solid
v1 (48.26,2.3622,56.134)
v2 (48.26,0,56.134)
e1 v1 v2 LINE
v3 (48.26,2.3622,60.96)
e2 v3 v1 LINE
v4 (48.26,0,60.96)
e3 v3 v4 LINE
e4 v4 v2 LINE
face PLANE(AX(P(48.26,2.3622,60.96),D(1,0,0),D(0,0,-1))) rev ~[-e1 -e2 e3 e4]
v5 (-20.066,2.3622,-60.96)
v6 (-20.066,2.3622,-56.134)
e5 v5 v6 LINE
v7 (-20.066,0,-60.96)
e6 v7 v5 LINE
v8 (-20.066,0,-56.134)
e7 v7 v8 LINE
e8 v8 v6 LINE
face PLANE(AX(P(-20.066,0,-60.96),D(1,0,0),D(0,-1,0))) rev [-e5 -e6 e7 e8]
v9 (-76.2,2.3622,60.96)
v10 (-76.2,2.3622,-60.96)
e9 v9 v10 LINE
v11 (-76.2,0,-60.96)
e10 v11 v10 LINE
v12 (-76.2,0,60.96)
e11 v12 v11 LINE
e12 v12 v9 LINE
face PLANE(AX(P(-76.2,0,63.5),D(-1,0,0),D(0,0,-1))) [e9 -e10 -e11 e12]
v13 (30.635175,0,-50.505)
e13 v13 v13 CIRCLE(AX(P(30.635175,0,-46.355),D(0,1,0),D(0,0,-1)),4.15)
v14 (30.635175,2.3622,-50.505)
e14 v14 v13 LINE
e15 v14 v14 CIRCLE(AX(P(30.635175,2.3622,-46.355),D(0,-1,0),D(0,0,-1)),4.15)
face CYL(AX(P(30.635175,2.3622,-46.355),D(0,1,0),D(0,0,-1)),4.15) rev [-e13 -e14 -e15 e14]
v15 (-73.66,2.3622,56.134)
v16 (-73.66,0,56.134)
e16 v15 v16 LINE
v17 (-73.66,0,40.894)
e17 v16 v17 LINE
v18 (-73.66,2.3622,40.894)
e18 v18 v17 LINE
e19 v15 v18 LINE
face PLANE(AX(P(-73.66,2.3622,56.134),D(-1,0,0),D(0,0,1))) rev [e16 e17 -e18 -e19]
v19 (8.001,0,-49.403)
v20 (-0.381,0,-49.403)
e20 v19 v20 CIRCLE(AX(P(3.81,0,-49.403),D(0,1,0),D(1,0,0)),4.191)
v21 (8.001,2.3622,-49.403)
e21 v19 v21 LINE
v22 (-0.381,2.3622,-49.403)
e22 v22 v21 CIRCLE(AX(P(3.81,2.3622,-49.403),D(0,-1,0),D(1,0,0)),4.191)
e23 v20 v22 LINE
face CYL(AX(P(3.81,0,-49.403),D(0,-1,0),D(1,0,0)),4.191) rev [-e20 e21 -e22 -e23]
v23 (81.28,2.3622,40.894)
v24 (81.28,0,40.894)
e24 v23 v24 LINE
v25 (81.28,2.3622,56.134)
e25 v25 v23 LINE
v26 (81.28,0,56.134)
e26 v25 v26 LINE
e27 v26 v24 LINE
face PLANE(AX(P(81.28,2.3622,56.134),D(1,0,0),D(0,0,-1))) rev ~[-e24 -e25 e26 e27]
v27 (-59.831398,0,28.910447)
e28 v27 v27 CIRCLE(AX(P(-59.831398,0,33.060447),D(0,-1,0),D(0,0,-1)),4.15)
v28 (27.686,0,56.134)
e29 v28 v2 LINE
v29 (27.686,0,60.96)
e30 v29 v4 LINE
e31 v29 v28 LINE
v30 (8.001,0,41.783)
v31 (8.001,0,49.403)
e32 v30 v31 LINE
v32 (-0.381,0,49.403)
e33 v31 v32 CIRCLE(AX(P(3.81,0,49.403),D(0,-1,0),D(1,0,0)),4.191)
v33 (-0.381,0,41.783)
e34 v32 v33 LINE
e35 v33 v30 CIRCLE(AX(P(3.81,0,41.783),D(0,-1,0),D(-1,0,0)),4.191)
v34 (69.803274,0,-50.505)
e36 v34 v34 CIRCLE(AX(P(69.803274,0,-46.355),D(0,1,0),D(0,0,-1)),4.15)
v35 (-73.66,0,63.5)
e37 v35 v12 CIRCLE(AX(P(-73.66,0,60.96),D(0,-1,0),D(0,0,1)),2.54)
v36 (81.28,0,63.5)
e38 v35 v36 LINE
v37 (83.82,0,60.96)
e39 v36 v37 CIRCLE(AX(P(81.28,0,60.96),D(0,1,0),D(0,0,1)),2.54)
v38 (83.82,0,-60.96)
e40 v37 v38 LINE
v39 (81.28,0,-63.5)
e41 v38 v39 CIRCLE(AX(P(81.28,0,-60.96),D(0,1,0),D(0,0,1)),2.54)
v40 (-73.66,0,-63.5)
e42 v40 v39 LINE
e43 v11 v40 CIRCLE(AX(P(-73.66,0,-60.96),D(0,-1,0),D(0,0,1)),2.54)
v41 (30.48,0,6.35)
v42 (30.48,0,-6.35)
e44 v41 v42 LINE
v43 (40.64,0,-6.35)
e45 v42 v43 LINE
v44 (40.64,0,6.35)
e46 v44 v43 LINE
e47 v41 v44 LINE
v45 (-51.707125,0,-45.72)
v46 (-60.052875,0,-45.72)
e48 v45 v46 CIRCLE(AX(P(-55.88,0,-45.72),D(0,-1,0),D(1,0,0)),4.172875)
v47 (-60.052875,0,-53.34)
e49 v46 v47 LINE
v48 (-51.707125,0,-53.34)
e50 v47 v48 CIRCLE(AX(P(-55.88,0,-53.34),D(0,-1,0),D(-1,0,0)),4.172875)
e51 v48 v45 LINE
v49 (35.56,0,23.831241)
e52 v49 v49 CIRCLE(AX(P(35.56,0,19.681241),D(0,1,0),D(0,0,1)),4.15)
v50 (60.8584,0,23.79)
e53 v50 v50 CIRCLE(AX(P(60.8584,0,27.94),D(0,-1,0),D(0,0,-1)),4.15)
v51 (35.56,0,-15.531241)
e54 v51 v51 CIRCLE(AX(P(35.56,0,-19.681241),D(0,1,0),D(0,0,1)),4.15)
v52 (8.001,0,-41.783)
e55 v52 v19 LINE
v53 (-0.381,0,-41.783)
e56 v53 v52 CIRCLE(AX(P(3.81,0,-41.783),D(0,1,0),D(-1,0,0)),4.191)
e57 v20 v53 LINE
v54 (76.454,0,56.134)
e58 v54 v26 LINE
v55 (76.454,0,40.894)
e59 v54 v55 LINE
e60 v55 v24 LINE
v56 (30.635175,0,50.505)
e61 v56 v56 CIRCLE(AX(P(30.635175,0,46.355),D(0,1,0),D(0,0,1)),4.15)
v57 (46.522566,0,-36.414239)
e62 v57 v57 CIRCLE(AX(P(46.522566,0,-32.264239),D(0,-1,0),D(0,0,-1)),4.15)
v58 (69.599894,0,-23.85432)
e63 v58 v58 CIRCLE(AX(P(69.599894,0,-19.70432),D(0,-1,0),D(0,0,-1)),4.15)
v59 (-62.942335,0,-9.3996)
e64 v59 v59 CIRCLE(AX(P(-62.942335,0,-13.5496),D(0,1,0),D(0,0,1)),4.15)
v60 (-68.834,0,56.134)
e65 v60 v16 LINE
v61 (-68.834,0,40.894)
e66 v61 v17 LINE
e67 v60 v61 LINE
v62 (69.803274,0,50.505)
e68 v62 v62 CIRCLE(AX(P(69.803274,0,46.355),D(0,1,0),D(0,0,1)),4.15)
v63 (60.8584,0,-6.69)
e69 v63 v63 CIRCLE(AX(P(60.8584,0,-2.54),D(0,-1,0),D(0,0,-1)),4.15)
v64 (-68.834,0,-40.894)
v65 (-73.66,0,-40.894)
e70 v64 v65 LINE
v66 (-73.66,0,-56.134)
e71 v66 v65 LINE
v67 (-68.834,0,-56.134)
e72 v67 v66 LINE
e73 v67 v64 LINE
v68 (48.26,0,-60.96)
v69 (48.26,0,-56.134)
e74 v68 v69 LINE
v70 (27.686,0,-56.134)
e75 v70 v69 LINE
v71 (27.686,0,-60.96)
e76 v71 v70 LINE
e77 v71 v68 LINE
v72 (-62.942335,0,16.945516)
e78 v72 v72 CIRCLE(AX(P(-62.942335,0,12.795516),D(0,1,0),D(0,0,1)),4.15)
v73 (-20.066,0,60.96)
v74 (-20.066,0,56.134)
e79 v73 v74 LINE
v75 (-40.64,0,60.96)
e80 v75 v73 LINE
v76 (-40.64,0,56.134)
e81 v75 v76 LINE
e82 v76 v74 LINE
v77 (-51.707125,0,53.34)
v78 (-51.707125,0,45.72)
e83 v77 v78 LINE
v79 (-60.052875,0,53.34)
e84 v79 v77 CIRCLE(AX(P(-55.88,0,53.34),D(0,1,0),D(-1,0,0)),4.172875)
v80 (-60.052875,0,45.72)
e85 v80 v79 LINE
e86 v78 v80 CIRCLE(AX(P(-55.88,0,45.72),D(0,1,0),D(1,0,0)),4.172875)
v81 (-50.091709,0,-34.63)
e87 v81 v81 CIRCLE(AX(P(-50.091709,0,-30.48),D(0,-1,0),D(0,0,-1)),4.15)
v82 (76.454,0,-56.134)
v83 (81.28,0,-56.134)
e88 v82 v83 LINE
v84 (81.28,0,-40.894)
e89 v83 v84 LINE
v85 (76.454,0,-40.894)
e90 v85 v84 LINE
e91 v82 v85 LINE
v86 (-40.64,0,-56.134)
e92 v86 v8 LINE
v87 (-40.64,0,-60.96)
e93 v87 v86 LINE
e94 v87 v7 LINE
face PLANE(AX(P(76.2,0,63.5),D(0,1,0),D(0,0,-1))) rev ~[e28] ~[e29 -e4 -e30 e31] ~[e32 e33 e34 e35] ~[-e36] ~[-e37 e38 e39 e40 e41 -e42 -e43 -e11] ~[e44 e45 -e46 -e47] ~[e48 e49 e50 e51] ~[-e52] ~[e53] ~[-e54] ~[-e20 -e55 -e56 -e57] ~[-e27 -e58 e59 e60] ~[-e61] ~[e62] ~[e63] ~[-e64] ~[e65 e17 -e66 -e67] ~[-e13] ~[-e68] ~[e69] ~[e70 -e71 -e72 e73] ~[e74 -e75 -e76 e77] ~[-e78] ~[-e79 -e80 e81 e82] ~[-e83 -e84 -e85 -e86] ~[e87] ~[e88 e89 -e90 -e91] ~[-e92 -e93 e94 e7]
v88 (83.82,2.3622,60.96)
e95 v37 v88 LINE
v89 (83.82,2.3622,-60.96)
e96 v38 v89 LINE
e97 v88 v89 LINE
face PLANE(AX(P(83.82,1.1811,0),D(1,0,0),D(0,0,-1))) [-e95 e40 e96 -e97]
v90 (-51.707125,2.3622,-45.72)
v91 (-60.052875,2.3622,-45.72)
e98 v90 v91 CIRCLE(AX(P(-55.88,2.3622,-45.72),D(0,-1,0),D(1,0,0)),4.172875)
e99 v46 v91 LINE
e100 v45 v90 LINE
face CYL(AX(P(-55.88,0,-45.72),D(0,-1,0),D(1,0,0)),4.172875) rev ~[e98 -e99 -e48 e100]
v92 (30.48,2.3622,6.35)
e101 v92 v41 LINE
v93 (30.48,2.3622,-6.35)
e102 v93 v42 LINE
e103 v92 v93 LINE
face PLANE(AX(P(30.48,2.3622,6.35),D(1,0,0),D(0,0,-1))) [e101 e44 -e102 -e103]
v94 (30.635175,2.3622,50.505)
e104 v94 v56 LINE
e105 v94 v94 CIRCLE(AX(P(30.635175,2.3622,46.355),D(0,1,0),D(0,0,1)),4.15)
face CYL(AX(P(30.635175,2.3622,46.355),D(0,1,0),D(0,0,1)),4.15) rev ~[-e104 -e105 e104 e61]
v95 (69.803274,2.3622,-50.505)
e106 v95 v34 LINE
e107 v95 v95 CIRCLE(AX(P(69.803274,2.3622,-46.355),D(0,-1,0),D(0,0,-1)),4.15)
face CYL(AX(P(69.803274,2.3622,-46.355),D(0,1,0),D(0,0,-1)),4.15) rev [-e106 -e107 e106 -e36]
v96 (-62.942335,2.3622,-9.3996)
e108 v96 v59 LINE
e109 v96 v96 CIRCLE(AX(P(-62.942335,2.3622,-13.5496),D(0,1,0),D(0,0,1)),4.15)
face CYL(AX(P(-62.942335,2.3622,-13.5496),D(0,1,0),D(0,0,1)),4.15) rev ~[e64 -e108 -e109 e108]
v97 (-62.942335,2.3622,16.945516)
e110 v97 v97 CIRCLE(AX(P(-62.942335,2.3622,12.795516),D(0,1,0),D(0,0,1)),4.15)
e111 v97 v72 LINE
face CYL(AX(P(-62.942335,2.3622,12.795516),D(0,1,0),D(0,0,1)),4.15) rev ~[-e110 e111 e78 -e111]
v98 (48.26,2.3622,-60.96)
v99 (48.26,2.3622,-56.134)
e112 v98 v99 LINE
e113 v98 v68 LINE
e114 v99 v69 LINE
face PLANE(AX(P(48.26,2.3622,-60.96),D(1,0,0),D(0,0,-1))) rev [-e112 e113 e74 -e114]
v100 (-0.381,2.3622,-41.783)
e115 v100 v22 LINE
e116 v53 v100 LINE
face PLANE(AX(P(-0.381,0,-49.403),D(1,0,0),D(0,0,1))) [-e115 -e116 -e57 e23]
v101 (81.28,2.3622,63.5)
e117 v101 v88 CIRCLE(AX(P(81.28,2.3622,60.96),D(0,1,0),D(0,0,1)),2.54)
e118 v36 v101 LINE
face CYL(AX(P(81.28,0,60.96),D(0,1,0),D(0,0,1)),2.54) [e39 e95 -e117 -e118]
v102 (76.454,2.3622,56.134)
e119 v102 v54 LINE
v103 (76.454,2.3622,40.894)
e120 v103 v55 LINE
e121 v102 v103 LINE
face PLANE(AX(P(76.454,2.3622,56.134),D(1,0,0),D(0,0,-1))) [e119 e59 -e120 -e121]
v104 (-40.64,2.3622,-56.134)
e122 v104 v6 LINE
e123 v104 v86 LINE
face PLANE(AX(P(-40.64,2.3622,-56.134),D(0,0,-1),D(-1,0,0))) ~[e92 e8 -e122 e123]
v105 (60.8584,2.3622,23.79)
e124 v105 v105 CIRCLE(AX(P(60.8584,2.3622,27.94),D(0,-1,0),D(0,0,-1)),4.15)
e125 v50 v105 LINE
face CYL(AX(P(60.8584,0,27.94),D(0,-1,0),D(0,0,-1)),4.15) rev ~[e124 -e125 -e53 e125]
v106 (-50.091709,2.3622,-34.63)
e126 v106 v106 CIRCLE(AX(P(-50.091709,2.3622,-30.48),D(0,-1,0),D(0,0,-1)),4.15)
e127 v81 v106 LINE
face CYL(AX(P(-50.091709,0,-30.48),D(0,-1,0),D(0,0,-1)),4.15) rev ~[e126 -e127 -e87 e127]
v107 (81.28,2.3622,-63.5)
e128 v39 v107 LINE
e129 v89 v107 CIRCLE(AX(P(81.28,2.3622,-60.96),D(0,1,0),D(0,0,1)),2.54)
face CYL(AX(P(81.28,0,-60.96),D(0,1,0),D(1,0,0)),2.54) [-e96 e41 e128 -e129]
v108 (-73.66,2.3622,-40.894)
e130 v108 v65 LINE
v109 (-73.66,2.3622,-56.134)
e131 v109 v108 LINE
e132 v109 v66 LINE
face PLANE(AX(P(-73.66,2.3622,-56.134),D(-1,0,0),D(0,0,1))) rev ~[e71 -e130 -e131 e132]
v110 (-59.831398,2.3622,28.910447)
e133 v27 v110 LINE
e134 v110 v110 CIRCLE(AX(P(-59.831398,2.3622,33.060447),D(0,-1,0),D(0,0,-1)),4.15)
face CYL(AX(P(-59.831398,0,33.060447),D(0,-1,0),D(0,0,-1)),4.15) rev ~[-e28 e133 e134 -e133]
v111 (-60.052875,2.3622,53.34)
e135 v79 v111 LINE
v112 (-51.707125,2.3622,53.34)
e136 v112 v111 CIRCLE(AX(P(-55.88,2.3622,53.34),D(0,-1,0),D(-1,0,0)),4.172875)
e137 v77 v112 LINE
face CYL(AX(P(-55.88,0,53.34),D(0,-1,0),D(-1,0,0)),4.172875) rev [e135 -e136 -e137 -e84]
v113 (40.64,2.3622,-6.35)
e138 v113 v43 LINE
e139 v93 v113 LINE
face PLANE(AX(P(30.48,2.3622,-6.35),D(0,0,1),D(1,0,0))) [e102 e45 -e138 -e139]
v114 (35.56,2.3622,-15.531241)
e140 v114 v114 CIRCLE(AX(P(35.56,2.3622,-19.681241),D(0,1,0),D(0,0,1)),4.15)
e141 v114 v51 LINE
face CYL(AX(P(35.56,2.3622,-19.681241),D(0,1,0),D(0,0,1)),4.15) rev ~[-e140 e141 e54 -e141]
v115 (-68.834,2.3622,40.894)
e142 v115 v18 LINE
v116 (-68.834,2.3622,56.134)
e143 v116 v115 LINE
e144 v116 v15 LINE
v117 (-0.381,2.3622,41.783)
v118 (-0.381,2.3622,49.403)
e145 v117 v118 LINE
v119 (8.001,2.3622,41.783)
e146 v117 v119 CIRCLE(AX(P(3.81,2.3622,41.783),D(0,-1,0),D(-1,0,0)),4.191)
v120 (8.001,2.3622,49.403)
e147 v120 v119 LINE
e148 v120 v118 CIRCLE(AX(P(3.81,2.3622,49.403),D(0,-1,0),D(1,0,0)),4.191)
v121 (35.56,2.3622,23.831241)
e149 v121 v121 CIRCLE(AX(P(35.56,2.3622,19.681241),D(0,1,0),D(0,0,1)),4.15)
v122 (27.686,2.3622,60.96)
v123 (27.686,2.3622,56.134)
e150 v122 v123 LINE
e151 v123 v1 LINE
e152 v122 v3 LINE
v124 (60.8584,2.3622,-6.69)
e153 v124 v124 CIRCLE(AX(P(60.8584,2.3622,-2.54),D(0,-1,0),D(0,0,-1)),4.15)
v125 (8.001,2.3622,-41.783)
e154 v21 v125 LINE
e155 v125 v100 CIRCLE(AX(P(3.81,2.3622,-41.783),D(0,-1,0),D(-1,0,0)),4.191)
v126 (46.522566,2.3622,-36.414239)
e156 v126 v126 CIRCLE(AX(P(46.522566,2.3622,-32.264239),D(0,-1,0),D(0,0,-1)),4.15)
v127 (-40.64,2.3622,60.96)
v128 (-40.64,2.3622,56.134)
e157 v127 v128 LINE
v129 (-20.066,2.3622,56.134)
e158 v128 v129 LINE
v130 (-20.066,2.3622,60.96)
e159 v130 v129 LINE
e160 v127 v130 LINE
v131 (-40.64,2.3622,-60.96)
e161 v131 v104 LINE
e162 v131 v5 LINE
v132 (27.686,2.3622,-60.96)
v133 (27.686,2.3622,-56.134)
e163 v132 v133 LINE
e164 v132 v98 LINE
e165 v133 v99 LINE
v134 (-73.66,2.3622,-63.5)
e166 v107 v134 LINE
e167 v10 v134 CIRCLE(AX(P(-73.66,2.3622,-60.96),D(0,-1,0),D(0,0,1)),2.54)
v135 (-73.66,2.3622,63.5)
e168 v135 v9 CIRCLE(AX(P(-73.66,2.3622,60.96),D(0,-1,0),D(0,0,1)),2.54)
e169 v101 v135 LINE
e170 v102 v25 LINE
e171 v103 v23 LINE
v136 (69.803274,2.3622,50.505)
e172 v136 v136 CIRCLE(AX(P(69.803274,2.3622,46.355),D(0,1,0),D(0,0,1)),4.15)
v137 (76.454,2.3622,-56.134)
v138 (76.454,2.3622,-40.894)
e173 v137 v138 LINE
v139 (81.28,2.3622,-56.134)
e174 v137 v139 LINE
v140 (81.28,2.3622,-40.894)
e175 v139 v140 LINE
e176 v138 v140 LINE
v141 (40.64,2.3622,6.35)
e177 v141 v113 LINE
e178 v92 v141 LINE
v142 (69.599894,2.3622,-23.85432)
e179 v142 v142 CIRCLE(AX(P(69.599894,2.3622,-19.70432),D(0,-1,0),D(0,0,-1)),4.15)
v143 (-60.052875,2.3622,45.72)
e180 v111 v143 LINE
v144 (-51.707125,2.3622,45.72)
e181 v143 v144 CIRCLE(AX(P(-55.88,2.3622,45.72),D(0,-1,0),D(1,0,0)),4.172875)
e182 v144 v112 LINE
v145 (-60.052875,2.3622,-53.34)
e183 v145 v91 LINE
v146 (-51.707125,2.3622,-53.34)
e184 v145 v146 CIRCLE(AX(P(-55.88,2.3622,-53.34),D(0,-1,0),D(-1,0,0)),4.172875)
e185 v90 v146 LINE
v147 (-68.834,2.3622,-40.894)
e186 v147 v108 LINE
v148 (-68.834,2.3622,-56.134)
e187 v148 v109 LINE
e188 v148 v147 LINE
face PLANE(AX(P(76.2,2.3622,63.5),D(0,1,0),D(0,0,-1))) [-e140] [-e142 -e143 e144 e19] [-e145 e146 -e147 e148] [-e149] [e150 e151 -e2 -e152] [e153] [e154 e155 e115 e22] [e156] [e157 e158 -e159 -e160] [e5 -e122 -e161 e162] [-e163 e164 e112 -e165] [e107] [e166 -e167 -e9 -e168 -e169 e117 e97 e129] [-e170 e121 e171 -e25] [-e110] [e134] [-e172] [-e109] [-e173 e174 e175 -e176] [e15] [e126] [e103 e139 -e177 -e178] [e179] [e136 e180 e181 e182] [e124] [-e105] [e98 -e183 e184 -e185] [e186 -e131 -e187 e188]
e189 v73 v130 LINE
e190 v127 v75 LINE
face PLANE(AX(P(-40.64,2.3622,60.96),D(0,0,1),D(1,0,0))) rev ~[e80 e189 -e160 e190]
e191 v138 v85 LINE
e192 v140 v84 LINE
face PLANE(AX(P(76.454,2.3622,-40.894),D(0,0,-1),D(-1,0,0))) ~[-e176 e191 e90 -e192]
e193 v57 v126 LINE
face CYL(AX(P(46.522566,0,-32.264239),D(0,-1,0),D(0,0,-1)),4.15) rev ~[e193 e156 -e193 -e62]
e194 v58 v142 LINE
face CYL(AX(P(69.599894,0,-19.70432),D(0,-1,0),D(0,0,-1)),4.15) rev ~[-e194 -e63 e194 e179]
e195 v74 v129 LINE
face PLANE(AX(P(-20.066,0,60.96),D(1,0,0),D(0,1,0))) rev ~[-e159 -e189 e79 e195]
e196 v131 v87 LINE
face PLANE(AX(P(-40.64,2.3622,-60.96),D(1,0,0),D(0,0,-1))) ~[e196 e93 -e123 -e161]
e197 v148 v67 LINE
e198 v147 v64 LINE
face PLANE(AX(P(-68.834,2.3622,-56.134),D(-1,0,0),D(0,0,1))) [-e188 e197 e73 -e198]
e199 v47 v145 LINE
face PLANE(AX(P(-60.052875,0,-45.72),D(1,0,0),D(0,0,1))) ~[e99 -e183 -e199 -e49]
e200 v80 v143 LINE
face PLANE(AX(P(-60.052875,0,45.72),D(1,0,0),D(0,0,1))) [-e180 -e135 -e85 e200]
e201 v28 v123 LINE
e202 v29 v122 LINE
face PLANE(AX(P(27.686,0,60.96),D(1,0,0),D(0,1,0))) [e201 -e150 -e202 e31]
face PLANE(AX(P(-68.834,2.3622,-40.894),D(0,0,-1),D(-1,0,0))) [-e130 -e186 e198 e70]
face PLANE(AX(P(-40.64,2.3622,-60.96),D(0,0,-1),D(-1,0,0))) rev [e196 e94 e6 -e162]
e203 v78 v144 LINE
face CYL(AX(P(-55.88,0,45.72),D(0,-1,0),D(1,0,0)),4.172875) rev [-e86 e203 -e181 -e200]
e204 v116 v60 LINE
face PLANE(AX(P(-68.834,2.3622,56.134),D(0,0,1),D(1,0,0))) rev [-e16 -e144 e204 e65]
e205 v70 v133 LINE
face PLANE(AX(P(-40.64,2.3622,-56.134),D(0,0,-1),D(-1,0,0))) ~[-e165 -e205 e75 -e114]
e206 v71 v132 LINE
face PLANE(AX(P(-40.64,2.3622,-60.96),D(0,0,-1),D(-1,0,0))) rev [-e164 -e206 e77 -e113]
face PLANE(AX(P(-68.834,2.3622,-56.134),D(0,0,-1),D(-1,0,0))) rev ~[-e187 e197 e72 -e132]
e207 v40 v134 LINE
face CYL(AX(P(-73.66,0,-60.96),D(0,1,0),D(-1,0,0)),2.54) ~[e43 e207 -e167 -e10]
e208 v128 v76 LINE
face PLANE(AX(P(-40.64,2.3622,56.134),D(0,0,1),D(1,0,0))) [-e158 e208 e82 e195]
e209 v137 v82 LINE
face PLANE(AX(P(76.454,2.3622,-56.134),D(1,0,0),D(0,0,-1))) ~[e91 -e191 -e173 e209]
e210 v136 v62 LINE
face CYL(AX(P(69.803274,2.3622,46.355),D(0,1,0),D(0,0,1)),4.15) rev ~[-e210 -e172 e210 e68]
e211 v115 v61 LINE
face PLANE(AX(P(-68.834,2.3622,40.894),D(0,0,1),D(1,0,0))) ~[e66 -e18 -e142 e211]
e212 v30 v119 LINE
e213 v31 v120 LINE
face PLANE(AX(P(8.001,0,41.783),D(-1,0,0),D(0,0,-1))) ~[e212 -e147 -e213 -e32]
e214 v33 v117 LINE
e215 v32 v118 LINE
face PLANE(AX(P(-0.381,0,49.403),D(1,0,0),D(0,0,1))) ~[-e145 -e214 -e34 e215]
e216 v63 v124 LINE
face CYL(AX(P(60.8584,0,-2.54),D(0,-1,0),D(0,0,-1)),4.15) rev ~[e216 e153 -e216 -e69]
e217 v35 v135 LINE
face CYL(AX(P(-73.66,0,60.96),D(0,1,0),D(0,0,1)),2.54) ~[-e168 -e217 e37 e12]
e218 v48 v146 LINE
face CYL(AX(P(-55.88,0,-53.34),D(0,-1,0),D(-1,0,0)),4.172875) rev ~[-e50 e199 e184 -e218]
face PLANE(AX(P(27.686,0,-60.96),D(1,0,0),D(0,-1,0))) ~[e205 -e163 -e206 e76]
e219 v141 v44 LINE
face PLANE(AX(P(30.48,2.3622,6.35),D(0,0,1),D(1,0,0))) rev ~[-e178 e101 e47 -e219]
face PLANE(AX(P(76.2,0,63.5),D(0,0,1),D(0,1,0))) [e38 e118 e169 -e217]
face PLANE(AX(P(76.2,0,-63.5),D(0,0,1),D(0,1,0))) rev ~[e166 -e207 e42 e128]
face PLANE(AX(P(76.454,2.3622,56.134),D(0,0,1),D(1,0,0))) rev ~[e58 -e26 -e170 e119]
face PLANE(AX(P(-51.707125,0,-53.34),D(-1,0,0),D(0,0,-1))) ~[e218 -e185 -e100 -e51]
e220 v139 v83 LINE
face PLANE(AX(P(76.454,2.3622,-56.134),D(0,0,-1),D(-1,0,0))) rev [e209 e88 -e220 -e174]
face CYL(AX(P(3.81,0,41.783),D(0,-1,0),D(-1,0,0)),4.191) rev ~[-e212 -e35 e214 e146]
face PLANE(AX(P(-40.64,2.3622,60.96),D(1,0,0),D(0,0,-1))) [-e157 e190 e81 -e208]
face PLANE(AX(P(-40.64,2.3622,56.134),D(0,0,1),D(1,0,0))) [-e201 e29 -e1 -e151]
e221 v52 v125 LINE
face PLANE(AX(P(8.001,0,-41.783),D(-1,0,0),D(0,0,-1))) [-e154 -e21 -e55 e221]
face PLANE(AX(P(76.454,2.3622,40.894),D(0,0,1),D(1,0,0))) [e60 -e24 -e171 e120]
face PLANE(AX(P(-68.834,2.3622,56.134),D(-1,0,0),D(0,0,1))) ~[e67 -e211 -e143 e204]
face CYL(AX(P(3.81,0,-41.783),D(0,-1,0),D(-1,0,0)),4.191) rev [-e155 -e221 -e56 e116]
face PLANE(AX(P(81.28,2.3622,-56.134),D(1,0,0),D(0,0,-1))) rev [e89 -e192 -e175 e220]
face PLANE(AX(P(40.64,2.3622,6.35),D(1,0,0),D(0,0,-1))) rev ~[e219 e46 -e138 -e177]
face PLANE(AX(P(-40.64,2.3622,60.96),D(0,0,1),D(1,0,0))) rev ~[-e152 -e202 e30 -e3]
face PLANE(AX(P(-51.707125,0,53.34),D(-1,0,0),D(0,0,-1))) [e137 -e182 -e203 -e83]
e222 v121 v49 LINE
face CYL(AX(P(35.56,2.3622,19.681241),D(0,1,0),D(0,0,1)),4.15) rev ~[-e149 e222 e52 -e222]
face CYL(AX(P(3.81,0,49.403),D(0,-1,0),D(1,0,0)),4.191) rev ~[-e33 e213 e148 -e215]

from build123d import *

# Parameters (mm, degrees)
SKETCH1_W                = 152.4
SKETCH1_H                = 127
BOSS_EXTRUDE1_DEPTH      = 2.3622
SKETCH9_R                = 4.15
CUT_EXTRUDE8_DEPTH       = 100.218294628
SKETCH16_R               = 4.15
CUT_EXTRUDE14_DEPTH      = 100.218294628
SKETCH26_W               = 10.16
SKETCH26_H               = 12.7
CUT_EXTRUDE26_DEPTH      = 100.218294628
SKETCH27_R               = 4.15
CUT_EXTRUDE27_DEPTH      = 100.218294628
SKETCH29_R               = 4.15
CUT_EXTRUDE28_DEPTH      = 100.218294628
SKETCH30_R               = 4.15
CUT_EXTRUDE29_DEPTH      = 100.218294628
SKETCH31_R               = 4.15
CUT_EXTRUDE30_DEPTH      = 100.218294628
SKETCH34_W               = 127
SKETCH34_H               = 2.3622
BOSS_EXTRUDE2_DEPTH      = 7.62
SKETCH38_W               = 88.9
SKETCH38_H               = 4.826
CUT_EXTRUDE34_DEPTH      = 7.62
SKETCH39_W               = 4.826
SKETCH39_H               = 15.24
CUT_EXTRUDE35_DEPTH      = 7.62
MIRROR15_COPY_1_SKETCH_W = 4.826
MIRROR15_COPY_1_SKETCH_H = 15.24
MIRROR15_COPY_1_DEPTH    = 7.62
CUT_EXTRUDE12_DEPTH      = 106.183755347
SKETCH40_W               = 47.752
SKETCH40_H               = 2.3622
BOSS_EXTRUDE3_DEPTH      = 4.826
FILLET2_R                = 2.54


with BuildPart() as part:
    # Sketch1 → Boss-Extrude1 (new body)
    with BuildSketch(Plane(origin=(0, 0, 0), x_dir=(1, 0, 0), z_dir=(0, 1, 0))):
        Rectangle(SKETCH1_W, SKETCH1_H)
    extrude(amount=BOSS_EXTRUDE1_DEPTH)

    # Sketch9 → Cut-Extrude8 (cut, through all)
    with BuildSketch(Plane.XZ):
        with Locations(Location((60.8584, 27.94, 0), (0, 0, 270))):
            Circle(SKETCH9_R)
        with Locations(Location((60.8584, -2.54, 0), (0, 0, 270))):
            Circle(SKETCH9_R)
    extrude(amount=-CUT_EXTRUDE8_DEPTH, mode=Mode.SUBTRACT)

    # Sketch16 → Cut-Extrude14 (cut, through all)
    with BuildSketch(Plane(origin=(0, 0, 0), x_dir=(-1, 0, 0), z_dir=(0, -1, 0))):
        with Locations(Location((-69.599893995, 19.704320306, 0), (0, 0, 90))):
            Circle(SKETCH16_R)
        with Locations(Location((-46.522565834, 32.264238523, 0), (0, 0, 90))):
            Circle(SKETCH16_R)
    extrude(amount=-CUT_EXTRUDE14_DEPTH, mode=Mode.SUBTRACT)

    # Sketch26 → Cut-Extrude26 (cut, through all)
    with BuildSketch(Plane(origin=(0, 2.3622, 0), x_dir=(1, 0, 0), z_dir=(0, 1, 0))):
        with Locations((35.56, 0)):
            Rectangle(SKETCH26_W, SKETCH26_H)
    extrude(amount=-CUT_EXTRUDE26_DEPTH, mode=Mode.SUBTRACT)

    # Sketch27 → Cut-Extrude27 (cut, through all)
    with BuildSketch(Plane.XZ):
        with Locations(Location((-59.831398438, 33.060447312, 0), (0, 0, 270))):
            Circle(SKETCH27_R)
        with Locations(Location((-50.09170874, -30.48, 0), (0, 0, 270))):
            Circle(SKETCH27_R)
    extrude(amount=-CUT_EXTRUDE27_DEPTH, mode=Mode.SUBTRACT)

    # Sketch29 → Cut-Extrude28 (cut, through all)
    with BuildSketch(Plane(origin=(0, 2.3622, 0), x_dir=(1, 0, 0), z_dir=(0, 1, 0))):
        with Locations(Location((35.56, 19.681240592, 0), (0, 0, 270))):
            Circle(SKETCH29_R)
        with Locations(Location((35.56, -19.681240592, 0), (0, 0, 270))):
            Circle(SKETCH29_R)
    extrude(amount=-CUT_EXTRUDE28_DEPTH, mode=Mode.SUBTRACT)

    # Sketch30 → Cut-Extrude29 (cut, through all)
    with BuildSketch(Plane(origin=(0, 2.3622, 0), x_dir=(1, 0, 0), z_dir=(0, 1, 0))):
        with Locations(Location((69.803274088, -46.355, 0), (0, 0, 270))):
            Circle(SKETCH30_R)
        with Locations(Location((30.63517528, -46.355, 0), (0, 0, 270))):
            Circle(SKETCH30_R)
    cut_extrude29 = extrude(amount=-CUT_EXTRUDE29_DEPTH, mode=Mode.SUBTRACT)

    # Mirror8: Cut-Extrude29 across plane
    add(cut_extrude29.mirror(Plane.XY), mode=Mode.SUBTRACT)

    # Sketch31 → Cut-Extrude30 (cut, through all)
    with BuildSketch(Plane(origin=(0, 2.3622, 0), x_dir=(1, 0, 0), z_dir=(0, 1, 0))):
        with Locations(Location((-62.942335235, -12.79551579, 0), (0, 0, 270))):
            Circle(SKETCH31_R)
        with Locations(Location((-62.942335235, 13.549600091, 0), (0, 0, 270))):
            Circle(SKETCH31_R)
    extrude(amount=-CUT_EXTRUDE30_DEPTH, mode=Mode.SUBTRACT)

    # Sketch34 → Boss-Extrude2 (add)
    with BuildSketch(Plane(origin=(76.2, 0, 0), x_dir=(0, 0, -1), z_dir=(1, 0, 0))):
        with Locations((0, 1.1811)):
            Rectangle(SKETCH34_W, SKETCH34_H)
    extrude(amount=BOSS_EXTRUDE2_DEPTH)

    # Sketch38 → Cut-Extrude34 (cut)
    with BuildSketch(Plane(origin=(0, 2.3622, 0), x_dir=(1, 0, 0), z_dir=(0, 1, 0))):
        with Locations((3.81, -58.547)):
            Rectangle(SKETCH38_W, SKETCH38_H)
    cut_extrude34 = extrude(amount=-CUT_EXTRUDE34_DEPTH, mode=Mode.SUBTRACT)

    # Mirror13: Cut-Extrude34 across plane
    add(cut_extrude34.mirror(Plane.XY), mode=Mode.SUBTRACT)

    # Sketch39 → Cut-Extrude35 (cut)
    with BuildSketch(Plane(origin=(0, 2.3622, 0), x_dir=(1, 0, 0), z_dir=(0, 1, 0))):
        with Locations((78.867, -48.514)):
            Rectangle(SKETCH39_W, SKETCH39_H)
    cut_extrude35 = extrude(amount=-CUT_EXTRUDE35_DEPTH, mode=Mode.SUBTRACT)

    # Mirror14: Cut-Extrude35 across plane
    add(cut_extrude35.mirror(Plane.XY), mode=Mode.SUBTRACT)

    # Mirror15: Cut-Extrude35 across plane
    add(cut_extrude35.mirror(Plane(origin=(3.81, 0, 0), x_dir=(0, 0, 1), z_dir=(1, 0, 0))), mode=Mode.SUBTRACT)

    # Mirror15 copy 1 sketch → Mirror15 copy 1 (cut)
    with BuildSketch(Plane(origin=(7.62, 2.3622, 0), x_dir=(-1, 0, 0), z_dir=(0, 1, 0))):
        with Locations((78.867, -48.514)):
            Rectangle(MIRROR15_COPY_1_SKETCH_W, MIRROR15_COPY_1_SKETCH_H)
    extrude(amount=-MIRROR15_COPY_1_DEPTH, mode=Mode.SUBTRACT)

    # Sketch13 → Cut-Extrude12 (cut, through all)
    with BuildSketch(Plane(origin=(0, 0, 0), x_dir=(-1, 0, 0), z_dir=(0, -1, 0))):
        with BuildLine():
            Line((60.052874771, -45.72), (60.052874771, -53.34))
            ThreePointArc((60.052874771, -53.34), (55.88, -57.512874771), (51.707125229, -53.34))
            Line((51.707125229, -53.34), (51.707125229, -45.72))
            ThreePointArc((51.707125229, -45.72), (55.88, -41.547125229), (60.052874771, -45.72))
        make_face()
        with BuildLine():
            Line((0.381, 49.403), (0.381, 41.783))
            ThreePointArc((0.381, 41.783), (-3.81, 37.592), (-8.001, 41.783))
            Line((-8.001, 41.783), (-8.001, 49.403))
            ThreePointArc((-8.001, 49.403), (-3.81, 53.594), (0.381, 49.403))
        make_face()
    cut_extrude12 = extrude(amount=-CUT_EXTRUDE12_DEPTH, mode=Mode.SUBTRACT)

    # Mirror16: Cut-Extrude12 across plane
    add(cut_extrude12.mirror(Plane.XY), mode=Mode.SUBTRACT)

    # Sketch40 → Boss-Extrude3 (add)
    with BuildSketch(Plane(origin=(0, 0, 60.96), x_dir=(-1, 0, 0), z_dir=(0, 0, -1))):
        with Locations((-3.81, 1.1811)):
            Rectangle(SKETCH40_W, SKETCH40_H)
    boss_extrude3 = extrude(amount=BOSS_EXTRUDE3_DEPTH)

    # Mirror17: Boss-Extrude3 across plane
    add(boss_extrude3.mirror(Plane.XY))

    # Fillet2
    fillet2_edges = [part.edges().sort_by_distance(p)[0] for p in [
        (83.82, 1.1811, -63.5),
        (-76.2, 1.1811, 63.5),
        (-76.2, 1.1811, -63.5),
        (83.82, 1.1811, 63.5),
    ]]
    fillet(fillet2_edges, radius=FILLET2_R)


solid = part.part
